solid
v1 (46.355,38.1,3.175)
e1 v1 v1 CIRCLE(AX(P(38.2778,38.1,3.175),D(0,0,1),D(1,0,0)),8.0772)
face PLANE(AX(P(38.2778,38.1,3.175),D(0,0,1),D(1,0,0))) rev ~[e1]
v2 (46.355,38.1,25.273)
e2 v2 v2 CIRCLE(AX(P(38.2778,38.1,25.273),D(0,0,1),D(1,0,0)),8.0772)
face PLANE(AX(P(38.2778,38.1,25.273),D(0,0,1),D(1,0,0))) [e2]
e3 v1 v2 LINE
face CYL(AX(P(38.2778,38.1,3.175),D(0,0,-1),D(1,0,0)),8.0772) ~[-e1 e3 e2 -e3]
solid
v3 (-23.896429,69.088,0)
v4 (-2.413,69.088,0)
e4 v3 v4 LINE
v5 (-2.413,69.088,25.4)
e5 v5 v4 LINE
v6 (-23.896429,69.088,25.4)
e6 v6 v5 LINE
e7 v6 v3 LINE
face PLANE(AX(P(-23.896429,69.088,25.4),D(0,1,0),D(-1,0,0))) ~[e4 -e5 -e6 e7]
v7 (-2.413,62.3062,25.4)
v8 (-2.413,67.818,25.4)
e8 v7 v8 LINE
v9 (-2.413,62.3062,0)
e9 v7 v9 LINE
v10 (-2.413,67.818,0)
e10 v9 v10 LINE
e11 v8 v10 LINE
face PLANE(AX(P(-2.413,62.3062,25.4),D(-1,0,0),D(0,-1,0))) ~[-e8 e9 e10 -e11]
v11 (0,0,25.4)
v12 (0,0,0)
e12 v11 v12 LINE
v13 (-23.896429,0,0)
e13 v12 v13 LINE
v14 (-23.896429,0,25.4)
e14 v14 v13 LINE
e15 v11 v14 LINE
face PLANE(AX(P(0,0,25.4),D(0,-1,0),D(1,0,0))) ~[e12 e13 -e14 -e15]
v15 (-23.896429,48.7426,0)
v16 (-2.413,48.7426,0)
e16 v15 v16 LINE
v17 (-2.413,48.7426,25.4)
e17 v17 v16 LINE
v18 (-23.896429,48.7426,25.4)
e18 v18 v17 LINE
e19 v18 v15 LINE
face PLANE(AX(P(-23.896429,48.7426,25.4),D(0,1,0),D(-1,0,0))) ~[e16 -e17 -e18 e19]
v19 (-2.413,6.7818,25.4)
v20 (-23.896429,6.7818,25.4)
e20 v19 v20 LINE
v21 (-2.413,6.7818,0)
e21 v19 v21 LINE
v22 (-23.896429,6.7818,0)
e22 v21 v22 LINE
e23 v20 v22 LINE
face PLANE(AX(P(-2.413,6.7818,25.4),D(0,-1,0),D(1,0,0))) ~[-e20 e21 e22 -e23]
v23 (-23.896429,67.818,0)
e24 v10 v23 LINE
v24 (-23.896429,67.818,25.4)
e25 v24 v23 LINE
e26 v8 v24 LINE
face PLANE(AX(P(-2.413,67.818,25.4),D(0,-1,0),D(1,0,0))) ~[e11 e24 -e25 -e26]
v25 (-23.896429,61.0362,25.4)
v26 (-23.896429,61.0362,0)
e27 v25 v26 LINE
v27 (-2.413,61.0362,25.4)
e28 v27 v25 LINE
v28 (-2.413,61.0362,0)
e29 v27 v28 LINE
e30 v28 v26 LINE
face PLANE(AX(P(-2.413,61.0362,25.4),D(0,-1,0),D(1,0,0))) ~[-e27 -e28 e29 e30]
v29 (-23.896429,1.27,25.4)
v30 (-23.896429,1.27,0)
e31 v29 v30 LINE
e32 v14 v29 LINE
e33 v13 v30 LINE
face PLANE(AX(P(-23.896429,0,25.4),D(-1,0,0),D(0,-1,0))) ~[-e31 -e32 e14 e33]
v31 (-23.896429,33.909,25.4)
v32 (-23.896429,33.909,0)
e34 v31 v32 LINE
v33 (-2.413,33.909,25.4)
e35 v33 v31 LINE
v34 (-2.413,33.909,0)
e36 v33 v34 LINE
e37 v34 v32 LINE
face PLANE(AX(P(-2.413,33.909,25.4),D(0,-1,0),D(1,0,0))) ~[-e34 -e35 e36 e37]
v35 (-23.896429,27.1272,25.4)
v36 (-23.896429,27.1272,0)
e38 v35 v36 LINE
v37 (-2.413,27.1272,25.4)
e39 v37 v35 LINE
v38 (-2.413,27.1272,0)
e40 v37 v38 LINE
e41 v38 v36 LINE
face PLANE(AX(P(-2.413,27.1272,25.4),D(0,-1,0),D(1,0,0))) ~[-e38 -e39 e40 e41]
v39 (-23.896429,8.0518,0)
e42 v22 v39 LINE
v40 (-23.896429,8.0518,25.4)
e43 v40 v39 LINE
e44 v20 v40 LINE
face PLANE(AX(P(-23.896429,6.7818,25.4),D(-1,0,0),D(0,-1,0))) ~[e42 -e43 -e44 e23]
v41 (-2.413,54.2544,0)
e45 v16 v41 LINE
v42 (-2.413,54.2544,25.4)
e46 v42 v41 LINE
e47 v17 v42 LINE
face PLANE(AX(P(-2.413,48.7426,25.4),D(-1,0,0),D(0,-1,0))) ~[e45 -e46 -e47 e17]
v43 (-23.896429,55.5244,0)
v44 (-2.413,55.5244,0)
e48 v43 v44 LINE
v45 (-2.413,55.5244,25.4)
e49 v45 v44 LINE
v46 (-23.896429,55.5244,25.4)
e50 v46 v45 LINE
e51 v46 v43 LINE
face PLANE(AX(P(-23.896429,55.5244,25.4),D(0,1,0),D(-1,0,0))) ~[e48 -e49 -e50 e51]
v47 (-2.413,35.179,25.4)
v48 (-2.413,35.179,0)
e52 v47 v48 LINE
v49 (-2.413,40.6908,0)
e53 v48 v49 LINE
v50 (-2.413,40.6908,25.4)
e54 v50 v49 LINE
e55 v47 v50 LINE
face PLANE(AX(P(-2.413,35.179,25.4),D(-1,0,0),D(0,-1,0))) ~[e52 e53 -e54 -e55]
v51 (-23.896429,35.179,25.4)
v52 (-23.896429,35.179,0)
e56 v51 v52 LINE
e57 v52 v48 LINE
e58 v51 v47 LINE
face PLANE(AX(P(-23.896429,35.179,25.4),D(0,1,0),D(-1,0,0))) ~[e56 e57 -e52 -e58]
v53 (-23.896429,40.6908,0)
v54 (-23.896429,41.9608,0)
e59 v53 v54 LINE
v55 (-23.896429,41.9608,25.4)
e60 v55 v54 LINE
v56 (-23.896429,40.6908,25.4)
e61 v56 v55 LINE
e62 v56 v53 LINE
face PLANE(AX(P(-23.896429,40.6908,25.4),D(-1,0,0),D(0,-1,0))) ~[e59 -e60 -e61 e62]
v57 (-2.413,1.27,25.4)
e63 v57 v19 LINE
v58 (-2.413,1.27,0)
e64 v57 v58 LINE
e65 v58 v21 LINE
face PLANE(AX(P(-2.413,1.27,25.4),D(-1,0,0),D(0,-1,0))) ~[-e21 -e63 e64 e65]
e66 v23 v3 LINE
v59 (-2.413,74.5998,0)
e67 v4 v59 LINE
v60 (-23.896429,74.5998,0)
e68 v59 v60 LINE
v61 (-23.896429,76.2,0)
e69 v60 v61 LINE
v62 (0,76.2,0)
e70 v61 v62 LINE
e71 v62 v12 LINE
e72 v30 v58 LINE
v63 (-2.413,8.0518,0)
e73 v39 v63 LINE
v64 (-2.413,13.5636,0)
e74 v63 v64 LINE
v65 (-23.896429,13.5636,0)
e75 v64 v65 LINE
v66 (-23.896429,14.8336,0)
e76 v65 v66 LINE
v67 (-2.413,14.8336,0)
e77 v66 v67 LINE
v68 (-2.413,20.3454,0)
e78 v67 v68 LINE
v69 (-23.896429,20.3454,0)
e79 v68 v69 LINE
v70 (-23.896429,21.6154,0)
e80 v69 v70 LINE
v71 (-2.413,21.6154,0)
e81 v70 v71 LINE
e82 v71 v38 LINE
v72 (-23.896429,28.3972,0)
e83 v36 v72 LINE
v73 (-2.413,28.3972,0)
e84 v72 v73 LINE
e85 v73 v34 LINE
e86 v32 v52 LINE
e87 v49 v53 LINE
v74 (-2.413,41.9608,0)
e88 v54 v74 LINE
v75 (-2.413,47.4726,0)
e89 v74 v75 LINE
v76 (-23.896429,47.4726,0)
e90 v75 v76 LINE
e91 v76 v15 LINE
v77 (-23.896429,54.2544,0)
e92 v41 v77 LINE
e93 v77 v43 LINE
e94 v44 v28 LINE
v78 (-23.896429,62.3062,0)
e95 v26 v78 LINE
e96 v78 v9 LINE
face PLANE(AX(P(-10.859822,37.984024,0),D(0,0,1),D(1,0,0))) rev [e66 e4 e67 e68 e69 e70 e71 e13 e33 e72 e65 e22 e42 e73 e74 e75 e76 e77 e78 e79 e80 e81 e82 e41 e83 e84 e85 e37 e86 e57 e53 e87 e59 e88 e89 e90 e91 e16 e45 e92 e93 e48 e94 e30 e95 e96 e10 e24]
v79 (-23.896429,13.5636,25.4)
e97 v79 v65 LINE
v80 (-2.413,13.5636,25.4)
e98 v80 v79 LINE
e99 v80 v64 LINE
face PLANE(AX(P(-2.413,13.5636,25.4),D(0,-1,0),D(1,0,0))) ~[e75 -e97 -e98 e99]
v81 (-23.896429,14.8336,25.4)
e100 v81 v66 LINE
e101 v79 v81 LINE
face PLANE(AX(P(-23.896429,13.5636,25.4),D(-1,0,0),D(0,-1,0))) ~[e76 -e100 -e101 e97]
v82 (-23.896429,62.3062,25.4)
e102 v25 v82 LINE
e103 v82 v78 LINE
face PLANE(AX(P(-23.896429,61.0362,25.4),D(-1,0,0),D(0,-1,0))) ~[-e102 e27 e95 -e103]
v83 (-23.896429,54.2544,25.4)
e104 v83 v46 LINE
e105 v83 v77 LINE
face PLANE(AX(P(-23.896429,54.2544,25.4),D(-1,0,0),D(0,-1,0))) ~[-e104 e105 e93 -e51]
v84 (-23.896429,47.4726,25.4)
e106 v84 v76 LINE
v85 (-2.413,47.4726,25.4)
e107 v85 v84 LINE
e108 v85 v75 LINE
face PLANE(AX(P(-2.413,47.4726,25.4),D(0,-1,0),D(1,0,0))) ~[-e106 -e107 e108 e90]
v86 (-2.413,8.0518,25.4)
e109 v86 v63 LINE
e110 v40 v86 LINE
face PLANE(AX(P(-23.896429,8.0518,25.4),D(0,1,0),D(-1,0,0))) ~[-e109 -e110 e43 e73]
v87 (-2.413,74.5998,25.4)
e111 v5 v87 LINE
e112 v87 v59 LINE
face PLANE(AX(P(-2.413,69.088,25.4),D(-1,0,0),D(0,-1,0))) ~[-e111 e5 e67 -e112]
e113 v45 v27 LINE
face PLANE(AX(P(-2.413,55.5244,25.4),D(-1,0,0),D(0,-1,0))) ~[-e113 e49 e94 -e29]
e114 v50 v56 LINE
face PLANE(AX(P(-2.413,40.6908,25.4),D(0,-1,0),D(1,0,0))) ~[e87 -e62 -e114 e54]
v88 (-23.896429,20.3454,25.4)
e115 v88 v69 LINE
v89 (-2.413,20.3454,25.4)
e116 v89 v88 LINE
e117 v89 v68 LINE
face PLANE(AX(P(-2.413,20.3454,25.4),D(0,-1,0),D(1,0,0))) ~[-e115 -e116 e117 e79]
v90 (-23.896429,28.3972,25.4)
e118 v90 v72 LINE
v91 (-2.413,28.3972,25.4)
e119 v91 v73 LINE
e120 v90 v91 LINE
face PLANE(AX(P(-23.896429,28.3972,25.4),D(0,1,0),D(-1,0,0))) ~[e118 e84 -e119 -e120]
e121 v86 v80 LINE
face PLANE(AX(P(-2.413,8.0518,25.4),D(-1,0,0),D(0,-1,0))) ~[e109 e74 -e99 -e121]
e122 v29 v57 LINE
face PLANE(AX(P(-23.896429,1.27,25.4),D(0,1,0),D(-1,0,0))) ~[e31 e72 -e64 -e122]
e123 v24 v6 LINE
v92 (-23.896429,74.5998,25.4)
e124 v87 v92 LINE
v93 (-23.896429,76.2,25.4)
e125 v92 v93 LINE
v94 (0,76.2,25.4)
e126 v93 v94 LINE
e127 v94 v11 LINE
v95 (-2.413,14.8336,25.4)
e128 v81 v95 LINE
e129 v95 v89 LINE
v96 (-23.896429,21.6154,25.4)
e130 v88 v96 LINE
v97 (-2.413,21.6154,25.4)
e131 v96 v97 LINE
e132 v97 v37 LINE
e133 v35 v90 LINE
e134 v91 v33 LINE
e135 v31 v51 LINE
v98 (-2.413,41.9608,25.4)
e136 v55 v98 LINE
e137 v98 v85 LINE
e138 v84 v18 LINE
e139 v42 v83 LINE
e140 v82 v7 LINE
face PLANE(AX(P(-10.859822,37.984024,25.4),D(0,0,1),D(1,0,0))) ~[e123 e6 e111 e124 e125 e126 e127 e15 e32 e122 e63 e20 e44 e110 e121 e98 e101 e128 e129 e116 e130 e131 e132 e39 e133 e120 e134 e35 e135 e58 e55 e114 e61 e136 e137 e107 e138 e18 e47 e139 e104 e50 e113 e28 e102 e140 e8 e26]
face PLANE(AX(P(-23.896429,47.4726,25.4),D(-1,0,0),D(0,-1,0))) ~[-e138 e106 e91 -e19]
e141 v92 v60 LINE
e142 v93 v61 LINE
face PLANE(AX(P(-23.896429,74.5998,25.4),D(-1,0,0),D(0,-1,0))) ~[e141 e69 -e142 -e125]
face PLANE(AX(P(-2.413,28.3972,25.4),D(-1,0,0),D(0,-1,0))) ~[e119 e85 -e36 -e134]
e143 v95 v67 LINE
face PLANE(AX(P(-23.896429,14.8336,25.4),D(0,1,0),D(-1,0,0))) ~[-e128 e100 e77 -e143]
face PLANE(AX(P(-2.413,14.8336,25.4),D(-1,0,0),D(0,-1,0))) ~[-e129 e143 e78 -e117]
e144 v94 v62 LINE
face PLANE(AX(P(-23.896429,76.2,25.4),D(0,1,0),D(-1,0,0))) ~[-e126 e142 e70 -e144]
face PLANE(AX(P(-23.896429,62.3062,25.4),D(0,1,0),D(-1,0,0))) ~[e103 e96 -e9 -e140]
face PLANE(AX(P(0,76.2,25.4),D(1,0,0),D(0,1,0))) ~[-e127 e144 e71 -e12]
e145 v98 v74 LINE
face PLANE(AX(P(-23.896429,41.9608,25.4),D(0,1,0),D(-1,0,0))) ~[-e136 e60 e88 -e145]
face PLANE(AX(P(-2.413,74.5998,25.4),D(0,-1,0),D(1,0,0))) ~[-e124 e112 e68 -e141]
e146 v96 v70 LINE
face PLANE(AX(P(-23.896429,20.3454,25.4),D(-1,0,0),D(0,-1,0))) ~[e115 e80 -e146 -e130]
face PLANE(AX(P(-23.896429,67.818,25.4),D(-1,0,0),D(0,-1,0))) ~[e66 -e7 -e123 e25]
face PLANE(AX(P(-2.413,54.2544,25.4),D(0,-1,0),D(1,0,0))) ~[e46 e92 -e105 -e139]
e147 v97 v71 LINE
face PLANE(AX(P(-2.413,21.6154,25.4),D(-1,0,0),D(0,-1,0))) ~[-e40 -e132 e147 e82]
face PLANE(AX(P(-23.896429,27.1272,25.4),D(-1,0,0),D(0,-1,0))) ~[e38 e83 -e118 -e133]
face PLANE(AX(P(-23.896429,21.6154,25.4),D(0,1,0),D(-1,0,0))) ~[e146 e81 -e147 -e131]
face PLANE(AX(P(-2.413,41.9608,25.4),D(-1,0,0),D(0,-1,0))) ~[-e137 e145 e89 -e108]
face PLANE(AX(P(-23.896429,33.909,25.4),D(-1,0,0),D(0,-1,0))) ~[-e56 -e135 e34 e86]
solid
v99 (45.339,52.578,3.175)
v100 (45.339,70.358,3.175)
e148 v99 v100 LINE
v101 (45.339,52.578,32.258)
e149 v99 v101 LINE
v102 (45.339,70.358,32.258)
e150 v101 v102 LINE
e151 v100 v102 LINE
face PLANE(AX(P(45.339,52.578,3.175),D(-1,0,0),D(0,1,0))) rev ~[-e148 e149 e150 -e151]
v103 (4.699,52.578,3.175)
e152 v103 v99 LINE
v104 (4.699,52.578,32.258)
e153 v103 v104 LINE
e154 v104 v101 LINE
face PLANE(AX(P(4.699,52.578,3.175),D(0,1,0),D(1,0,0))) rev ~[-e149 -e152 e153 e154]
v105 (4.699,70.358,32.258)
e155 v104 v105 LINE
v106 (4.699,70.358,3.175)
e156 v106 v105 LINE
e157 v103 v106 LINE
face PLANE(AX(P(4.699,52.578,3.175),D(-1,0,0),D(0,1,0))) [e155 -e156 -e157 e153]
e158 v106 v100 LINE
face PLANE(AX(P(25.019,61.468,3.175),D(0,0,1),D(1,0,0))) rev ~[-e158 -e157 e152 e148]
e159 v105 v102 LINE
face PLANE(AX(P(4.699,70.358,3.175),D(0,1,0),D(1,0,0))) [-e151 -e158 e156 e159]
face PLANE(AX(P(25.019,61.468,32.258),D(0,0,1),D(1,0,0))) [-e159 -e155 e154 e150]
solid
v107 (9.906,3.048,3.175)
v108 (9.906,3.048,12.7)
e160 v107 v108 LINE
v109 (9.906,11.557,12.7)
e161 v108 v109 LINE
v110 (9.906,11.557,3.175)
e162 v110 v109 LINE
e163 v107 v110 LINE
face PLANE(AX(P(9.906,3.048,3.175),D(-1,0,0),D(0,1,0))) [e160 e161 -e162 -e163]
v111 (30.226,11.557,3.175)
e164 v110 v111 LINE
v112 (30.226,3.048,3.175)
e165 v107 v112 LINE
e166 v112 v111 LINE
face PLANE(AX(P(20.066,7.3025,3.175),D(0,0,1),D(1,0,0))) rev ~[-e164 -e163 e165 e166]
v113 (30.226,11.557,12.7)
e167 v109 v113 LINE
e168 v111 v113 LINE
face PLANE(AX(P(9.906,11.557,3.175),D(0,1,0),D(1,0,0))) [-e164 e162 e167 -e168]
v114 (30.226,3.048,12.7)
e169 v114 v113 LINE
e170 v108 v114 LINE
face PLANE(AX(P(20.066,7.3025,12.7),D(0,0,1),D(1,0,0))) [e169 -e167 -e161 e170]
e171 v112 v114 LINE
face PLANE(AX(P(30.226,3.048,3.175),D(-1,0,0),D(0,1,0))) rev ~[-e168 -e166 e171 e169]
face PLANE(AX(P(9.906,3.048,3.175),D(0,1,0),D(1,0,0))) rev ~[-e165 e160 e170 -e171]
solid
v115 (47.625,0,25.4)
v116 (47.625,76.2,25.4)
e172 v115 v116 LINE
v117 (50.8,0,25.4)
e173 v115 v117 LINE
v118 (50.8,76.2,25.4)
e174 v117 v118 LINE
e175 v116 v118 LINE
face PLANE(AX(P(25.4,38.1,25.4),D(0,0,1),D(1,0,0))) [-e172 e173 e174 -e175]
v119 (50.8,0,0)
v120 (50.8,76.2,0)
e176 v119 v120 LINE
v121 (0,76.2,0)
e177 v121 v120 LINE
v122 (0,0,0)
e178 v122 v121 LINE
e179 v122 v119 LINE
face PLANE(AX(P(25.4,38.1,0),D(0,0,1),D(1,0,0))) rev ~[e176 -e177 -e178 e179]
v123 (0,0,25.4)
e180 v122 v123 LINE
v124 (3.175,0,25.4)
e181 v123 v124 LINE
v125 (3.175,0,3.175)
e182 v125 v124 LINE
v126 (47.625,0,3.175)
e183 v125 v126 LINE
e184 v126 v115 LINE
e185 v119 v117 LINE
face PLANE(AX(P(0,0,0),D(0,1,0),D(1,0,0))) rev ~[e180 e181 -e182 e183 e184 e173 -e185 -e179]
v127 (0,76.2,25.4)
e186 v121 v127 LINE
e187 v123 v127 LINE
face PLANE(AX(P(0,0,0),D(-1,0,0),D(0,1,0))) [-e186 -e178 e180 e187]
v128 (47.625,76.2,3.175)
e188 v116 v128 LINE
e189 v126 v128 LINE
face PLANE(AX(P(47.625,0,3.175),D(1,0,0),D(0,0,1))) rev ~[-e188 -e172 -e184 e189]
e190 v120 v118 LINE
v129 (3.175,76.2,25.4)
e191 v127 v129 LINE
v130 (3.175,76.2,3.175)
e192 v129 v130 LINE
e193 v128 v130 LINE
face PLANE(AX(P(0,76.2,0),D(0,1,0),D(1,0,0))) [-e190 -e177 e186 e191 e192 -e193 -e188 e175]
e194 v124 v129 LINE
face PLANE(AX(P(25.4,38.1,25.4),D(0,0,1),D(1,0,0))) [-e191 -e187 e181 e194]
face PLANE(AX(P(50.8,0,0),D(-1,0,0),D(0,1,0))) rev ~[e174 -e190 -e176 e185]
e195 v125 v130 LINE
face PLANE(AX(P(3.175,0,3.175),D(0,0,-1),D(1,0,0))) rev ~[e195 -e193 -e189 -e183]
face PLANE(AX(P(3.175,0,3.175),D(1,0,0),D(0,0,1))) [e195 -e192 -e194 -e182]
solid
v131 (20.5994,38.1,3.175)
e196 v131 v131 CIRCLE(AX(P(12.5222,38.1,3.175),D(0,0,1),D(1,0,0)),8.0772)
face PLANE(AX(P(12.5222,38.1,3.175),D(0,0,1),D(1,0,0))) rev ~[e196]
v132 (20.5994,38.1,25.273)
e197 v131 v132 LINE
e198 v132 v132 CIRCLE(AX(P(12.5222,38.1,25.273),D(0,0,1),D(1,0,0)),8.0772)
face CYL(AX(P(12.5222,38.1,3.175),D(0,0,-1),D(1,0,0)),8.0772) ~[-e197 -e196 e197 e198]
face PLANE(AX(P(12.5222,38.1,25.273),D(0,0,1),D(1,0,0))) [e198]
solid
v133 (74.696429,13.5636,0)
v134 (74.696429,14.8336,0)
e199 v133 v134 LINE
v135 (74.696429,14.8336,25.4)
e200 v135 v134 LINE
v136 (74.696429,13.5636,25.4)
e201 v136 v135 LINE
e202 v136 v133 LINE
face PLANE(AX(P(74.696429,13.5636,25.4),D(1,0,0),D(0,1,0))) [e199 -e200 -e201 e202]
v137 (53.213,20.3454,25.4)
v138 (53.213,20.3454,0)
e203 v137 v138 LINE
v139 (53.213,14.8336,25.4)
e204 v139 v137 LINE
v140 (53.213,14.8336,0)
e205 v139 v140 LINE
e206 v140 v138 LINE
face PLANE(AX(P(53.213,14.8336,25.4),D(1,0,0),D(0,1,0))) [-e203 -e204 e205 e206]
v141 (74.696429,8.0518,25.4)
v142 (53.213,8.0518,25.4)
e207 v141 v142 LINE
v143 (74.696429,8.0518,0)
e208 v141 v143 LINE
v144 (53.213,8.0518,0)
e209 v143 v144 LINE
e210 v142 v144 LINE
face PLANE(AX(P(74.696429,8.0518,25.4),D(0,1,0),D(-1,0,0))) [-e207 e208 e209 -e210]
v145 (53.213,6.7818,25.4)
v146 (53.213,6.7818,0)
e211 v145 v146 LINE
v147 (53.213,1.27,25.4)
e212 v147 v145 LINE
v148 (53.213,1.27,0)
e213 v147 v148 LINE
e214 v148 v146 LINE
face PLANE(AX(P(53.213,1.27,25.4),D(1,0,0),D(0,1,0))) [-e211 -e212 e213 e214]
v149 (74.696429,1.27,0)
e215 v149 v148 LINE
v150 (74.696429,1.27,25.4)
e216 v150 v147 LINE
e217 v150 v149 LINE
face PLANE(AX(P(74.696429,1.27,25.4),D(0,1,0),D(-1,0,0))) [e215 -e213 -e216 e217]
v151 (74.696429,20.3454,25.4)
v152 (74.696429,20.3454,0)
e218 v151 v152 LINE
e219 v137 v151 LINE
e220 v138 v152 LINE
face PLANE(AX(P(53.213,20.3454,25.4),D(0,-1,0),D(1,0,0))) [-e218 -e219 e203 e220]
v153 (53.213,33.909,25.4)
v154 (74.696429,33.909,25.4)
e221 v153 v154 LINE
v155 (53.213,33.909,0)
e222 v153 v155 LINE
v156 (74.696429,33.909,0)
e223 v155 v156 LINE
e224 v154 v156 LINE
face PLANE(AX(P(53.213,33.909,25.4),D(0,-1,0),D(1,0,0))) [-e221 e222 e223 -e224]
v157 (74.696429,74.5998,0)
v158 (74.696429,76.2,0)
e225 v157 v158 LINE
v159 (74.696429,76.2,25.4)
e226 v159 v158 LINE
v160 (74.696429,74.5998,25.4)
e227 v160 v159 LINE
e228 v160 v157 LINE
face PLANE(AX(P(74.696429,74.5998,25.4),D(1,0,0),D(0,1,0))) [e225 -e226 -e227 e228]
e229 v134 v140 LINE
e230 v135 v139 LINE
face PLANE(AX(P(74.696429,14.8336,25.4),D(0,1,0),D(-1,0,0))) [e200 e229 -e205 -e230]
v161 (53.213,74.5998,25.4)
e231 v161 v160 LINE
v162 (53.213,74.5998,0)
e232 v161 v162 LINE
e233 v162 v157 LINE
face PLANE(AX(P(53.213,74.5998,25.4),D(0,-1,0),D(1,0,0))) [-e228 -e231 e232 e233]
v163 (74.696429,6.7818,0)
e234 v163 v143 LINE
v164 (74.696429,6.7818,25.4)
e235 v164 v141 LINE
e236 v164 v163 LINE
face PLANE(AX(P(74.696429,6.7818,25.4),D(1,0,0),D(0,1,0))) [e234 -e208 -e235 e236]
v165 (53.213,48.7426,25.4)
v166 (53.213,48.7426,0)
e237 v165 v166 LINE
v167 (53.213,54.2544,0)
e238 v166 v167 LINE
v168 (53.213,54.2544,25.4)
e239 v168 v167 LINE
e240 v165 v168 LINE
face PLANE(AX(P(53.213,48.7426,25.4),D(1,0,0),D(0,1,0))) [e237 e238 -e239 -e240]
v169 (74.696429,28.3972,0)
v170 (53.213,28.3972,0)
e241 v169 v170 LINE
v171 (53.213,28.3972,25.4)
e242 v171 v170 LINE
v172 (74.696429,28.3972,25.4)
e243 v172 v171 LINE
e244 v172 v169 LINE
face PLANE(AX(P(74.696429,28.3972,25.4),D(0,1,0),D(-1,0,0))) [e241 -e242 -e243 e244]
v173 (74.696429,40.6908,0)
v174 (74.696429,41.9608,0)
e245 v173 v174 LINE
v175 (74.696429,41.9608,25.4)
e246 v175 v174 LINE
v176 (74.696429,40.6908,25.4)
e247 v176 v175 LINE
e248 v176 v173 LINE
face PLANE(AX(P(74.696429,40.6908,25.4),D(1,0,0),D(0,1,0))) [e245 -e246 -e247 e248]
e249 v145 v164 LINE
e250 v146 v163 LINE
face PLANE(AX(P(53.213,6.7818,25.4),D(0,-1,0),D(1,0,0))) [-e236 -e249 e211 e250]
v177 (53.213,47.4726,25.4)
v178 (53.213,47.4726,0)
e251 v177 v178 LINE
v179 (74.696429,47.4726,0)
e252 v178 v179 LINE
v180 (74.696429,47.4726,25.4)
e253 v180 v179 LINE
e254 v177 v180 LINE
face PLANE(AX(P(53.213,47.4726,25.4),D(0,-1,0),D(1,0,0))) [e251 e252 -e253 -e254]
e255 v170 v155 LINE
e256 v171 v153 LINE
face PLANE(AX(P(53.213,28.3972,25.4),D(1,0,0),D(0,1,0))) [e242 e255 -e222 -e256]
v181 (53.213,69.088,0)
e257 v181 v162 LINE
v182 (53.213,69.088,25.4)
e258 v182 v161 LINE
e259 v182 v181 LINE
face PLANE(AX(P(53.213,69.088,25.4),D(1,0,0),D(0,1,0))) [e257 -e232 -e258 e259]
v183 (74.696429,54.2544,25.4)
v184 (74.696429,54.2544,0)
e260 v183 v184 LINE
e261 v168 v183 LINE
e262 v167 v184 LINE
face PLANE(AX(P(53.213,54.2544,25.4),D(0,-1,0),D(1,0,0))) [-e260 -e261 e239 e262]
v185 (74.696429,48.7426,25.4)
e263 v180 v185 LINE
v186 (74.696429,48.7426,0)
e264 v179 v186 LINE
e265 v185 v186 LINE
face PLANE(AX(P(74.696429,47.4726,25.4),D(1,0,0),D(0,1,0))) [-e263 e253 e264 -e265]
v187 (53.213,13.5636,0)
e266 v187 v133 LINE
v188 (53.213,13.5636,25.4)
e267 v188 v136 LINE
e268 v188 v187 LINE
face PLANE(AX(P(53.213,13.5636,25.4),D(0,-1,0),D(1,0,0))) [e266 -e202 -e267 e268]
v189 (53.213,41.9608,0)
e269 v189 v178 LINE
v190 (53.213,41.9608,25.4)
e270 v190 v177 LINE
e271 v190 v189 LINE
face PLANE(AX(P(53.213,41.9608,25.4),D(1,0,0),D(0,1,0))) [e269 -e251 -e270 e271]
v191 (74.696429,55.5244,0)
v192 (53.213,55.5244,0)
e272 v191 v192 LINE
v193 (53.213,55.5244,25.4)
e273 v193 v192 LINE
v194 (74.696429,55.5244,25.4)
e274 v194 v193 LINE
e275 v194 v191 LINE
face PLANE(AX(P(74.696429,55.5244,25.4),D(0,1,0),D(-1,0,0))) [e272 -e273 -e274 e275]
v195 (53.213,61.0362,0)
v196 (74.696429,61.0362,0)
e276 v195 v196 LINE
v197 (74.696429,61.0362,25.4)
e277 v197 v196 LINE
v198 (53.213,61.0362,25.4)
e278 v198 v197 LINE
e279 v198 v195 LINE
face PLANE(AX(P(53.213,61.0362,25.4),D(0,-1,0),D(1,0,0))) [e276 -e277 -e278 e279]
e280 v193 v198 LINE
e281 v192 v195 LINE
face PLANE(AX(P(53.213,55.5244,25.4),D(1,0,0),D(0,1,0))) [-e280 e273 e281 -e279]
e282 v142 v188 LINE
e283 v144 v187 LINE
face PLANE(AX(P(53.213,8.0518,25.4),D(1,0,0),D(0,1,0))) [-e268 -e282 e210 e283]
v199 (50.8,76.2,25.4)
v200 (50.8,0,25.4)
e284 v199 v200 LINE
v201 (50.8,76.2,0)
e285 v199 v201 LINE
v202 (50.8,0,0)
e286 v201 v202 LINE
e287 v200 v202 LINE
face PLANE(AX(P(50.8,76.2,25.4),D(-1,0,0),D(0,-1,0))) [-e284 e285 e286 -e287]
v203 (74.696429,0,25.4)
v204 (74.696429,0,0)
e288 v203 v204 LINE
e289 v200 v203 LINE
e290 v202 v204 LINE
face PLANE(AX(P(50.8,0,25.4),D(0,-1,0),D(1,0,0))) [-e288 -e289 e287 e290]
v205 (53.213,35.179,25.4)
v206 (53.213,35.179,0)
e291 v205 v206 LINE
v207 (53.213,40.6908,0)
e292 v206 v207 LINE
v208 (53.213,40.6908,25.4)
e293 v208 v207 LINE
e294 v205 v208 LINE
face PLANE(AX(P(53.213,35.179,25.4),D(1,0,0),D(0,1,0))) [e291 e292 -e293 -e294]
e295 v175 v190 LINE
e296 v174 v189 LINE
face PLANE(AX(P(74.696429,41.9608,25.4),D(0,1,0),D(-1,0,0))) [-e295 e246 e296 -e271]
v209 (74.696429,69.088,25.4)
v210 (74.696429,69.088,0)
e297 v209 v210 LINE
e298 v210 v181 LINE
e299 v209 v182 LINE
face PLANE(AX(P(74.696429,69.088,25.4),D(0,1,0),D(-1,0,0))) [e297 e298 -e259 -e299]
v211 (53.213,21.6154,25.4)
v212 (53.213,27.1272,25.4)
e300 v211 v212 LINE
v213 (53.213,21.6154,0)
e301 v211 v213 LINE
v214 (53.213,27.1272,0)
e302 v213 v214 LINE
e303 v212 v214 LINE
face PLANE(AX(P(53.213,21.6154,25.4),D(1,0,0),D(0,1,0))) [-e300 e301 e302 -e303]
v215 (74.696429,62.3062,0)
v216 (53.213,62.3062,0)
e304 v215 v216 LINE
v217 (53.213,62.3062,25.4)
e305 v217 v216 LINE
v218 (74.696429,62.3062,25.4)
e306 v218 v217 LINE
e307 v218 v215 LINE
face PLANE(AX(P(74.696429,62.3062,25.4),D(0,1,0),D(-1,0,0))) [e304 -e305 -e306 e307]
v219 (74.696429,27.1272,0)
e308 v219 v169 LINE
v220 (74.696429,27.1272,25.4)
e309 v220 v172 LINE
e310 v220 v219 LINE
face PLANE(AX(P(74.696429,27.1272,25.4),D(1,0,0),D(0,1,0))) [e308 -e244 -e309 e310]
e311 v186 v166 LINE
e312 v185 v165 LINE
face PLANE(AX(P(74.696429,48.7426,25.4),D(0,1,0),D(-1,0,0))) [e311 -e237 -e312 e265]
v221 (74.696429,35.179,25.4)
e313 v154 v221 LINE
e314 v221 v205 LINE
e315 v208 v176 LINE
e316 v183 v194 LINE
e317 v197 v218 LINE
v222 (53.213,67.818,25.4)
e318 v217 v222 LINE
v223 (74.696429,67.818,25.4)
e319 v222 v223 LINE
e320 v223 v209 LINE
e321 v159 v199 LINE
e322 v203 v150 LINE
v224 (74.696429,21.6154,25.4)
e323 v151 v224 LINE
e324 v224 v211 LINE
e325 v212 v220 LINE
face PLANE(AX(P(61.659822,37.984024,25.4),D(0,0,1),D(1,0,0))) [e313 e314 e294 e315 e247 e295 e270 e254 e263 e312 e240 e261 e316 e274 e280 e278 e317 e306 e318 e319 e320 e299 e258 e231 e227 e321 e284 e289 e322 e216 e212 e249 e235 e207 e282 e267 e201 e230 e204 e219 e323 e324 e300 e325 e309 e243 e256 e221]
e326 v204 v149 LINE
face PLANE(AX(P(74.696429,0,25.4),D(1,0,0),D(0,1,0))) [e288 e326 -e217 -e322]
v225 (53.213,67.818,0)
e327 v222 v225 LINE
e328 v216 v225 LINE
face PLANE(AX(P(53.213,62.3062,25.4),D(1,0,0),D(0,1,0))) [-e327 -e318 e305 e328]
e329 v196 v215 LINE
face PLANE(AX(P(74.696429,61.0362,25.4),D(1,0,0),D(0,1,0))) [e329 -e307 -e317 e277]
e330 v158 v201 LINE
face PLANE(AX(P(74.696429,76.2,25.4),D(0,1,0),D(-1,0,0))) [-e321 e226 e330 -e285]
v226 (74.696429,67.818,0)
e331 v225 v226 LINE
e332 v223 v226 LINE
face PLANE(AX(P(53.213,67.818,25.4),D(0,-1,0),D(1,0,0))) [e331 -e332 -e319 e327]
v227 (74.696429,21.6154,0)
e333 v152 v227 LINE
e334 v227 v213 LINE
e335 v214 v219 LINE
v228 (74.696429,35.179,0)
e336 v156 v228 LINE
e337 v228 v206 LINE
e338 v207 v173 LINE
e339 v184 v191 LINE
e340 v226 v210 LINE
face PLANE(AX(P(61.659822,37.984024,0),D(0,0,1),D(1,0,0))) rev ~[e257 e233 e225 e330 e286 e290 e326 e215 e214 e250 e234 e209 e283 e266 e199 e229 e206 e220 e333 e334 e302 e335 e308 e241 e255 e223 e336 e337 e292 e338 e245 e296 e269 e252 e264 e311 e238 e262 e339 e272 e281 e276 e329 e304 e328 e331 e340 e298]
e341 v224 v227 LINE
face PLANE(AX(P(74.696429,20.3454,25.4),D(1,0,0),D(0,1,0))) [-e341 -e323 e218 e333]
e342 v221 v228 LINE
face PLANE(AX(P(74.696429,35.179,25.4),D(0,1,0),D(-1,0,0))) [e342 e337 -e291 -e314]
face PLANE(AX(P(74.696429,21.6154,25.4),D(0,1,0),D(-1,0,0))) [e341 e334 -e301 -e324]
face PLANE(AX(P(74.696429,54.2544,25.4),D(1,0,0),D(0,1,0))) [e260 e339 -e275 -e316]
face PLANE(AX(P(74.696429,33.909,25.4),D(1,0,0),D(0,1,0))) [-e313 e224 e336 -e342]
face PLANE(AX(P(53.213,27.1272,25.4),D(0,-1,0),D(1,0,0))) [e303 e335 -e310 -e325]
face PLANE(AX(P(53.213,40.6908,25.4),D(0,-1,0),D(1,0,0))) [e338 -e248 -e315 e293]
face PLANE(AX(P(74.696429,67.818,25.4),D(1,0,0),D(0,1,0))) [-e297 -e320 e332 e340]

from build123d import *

# Parameters (mm, degrees)
F0_W      = 50.8
F0_H      = 76.2
F1_DEPTH  = 25.4
F2_W      = 44.45
F2_H      = 37.52266
F3_DEPTH  = 76.201
F5_DEPTH  = 25.4
F8_R      = 8.0772
F9_DEPTH  = 22.098
F10_W     = 20.32
F10_H     = 8.509
F11_DEPTH = 9.525
F12_W     = 40.64
F12_H     = 17.78
F13_DEPTH = 29.083


with BuildPart() as f1:
    # F0 (on Top) → F1 (new body)
    with BuildSketch(Plane.XY):
        with Locations((25.4, 38.1)):
            Rectangle(F0_W, F0_H)
    extrude(amount=F1_DEPTH)

    # F2 (on face) → F3 (cut, through all)
    with BuildSketch(Plane.XZ):
        with Locations((25.4, 21.93633)):
            Rectangle(F2_W, F2_H)
    extrude(amount=-F3_DEPTH, mode=Mode.SUBTRACT)


with BuildPart() as f5:
    # F4 (on face) → F5 (new body, through all)
    with BuildSketch(Plane.XY.offset(25.4)):
        Polygon((74.696429, 76.2), (50.8, 76.2), (50.8, 0), (74.696429, 0), (74.696429, 1.27), (53.213, 1.27), (53.213, 6.7818), (74.696429, 6.7818), (74.696429, 8.0518), (53.213, 8.0518), (53.213, 13.5636), (74.696429, 13.5636), (74.696429, 14.8336), (53.213, 14.8336), (53.213, 20.3454), (74.696429, 20.3454), (74.696429, 21.6154), (53.213, 21.6154), (53.213, 27.1272), (74.696429, 27.1272), (74.696429, 28.3972), (53.213, 28.3972), (53.213, 33.909), (74.696429, 33.909), (74.696429, 35.179), (53.213, 35.179), (53.213, 40.6908), (74.696429, 40.6908), (74.696429, 41.9608), (53.213, 41.9608), (53.213, 47.4726), (74.696429, 47.4726), (74.696429, 48.7426), (53.213, 48.7426), (53.213, 54.2544), (74.696429, 54.2544), (74.696429, 55.5244), (53.213, 55.5244), (53.213, 61.0362), (74.696429, 61.0362), (74.696429, 62.3062), (53.213, 62.3062), (53.213, 67.818), (74.696429, 67.818), (74.696429, 69.088), (53.213, 69.088), (53.213, 74.5998), (74.696429, 74.5998), align=None)
    extrude(amount=-F5_DEPTH)


with BuildPart() as f7_1:
    # F7: instance of F5
    add(f5.part.mirror(Plane.YZ.offset(25.4)))


with BuildPart() as f9:
    # F8 (on face) → F9 (new body)
    with BuildSketch(Plane.XY.offset(3.175)):
        with Locations((12.5222, 38.1)):
            Circle(F8_R)
        with Locations((38.2778, 38.1)):
            Circle(F8_R)
    extrude(amount=F9_DEPTH)


with BuildPart() as f11:
    # F10 (on face) → F11 (new body)
    with BuildSketch(Plane.XY.offset(3.175)):
        with Locations((20.066, 7.3025)):
            Rectangle(F10_W, F10_H)
    extrude(amount=F11_DEPTH)


with BuildPart() as f13:
    # F12 (on face) → F13 (new body)
    with BuildSketch(Plane.XY.offset(3.175)):
        with Locations((25.019, 61.468)):
            Rectangle(F12_W, F12_H)
    extrude(amount=F13_DEPTH)


solid = Compound([f1.part, f5.part, f7_1.part, f9.part, f11.part, f13.part])
